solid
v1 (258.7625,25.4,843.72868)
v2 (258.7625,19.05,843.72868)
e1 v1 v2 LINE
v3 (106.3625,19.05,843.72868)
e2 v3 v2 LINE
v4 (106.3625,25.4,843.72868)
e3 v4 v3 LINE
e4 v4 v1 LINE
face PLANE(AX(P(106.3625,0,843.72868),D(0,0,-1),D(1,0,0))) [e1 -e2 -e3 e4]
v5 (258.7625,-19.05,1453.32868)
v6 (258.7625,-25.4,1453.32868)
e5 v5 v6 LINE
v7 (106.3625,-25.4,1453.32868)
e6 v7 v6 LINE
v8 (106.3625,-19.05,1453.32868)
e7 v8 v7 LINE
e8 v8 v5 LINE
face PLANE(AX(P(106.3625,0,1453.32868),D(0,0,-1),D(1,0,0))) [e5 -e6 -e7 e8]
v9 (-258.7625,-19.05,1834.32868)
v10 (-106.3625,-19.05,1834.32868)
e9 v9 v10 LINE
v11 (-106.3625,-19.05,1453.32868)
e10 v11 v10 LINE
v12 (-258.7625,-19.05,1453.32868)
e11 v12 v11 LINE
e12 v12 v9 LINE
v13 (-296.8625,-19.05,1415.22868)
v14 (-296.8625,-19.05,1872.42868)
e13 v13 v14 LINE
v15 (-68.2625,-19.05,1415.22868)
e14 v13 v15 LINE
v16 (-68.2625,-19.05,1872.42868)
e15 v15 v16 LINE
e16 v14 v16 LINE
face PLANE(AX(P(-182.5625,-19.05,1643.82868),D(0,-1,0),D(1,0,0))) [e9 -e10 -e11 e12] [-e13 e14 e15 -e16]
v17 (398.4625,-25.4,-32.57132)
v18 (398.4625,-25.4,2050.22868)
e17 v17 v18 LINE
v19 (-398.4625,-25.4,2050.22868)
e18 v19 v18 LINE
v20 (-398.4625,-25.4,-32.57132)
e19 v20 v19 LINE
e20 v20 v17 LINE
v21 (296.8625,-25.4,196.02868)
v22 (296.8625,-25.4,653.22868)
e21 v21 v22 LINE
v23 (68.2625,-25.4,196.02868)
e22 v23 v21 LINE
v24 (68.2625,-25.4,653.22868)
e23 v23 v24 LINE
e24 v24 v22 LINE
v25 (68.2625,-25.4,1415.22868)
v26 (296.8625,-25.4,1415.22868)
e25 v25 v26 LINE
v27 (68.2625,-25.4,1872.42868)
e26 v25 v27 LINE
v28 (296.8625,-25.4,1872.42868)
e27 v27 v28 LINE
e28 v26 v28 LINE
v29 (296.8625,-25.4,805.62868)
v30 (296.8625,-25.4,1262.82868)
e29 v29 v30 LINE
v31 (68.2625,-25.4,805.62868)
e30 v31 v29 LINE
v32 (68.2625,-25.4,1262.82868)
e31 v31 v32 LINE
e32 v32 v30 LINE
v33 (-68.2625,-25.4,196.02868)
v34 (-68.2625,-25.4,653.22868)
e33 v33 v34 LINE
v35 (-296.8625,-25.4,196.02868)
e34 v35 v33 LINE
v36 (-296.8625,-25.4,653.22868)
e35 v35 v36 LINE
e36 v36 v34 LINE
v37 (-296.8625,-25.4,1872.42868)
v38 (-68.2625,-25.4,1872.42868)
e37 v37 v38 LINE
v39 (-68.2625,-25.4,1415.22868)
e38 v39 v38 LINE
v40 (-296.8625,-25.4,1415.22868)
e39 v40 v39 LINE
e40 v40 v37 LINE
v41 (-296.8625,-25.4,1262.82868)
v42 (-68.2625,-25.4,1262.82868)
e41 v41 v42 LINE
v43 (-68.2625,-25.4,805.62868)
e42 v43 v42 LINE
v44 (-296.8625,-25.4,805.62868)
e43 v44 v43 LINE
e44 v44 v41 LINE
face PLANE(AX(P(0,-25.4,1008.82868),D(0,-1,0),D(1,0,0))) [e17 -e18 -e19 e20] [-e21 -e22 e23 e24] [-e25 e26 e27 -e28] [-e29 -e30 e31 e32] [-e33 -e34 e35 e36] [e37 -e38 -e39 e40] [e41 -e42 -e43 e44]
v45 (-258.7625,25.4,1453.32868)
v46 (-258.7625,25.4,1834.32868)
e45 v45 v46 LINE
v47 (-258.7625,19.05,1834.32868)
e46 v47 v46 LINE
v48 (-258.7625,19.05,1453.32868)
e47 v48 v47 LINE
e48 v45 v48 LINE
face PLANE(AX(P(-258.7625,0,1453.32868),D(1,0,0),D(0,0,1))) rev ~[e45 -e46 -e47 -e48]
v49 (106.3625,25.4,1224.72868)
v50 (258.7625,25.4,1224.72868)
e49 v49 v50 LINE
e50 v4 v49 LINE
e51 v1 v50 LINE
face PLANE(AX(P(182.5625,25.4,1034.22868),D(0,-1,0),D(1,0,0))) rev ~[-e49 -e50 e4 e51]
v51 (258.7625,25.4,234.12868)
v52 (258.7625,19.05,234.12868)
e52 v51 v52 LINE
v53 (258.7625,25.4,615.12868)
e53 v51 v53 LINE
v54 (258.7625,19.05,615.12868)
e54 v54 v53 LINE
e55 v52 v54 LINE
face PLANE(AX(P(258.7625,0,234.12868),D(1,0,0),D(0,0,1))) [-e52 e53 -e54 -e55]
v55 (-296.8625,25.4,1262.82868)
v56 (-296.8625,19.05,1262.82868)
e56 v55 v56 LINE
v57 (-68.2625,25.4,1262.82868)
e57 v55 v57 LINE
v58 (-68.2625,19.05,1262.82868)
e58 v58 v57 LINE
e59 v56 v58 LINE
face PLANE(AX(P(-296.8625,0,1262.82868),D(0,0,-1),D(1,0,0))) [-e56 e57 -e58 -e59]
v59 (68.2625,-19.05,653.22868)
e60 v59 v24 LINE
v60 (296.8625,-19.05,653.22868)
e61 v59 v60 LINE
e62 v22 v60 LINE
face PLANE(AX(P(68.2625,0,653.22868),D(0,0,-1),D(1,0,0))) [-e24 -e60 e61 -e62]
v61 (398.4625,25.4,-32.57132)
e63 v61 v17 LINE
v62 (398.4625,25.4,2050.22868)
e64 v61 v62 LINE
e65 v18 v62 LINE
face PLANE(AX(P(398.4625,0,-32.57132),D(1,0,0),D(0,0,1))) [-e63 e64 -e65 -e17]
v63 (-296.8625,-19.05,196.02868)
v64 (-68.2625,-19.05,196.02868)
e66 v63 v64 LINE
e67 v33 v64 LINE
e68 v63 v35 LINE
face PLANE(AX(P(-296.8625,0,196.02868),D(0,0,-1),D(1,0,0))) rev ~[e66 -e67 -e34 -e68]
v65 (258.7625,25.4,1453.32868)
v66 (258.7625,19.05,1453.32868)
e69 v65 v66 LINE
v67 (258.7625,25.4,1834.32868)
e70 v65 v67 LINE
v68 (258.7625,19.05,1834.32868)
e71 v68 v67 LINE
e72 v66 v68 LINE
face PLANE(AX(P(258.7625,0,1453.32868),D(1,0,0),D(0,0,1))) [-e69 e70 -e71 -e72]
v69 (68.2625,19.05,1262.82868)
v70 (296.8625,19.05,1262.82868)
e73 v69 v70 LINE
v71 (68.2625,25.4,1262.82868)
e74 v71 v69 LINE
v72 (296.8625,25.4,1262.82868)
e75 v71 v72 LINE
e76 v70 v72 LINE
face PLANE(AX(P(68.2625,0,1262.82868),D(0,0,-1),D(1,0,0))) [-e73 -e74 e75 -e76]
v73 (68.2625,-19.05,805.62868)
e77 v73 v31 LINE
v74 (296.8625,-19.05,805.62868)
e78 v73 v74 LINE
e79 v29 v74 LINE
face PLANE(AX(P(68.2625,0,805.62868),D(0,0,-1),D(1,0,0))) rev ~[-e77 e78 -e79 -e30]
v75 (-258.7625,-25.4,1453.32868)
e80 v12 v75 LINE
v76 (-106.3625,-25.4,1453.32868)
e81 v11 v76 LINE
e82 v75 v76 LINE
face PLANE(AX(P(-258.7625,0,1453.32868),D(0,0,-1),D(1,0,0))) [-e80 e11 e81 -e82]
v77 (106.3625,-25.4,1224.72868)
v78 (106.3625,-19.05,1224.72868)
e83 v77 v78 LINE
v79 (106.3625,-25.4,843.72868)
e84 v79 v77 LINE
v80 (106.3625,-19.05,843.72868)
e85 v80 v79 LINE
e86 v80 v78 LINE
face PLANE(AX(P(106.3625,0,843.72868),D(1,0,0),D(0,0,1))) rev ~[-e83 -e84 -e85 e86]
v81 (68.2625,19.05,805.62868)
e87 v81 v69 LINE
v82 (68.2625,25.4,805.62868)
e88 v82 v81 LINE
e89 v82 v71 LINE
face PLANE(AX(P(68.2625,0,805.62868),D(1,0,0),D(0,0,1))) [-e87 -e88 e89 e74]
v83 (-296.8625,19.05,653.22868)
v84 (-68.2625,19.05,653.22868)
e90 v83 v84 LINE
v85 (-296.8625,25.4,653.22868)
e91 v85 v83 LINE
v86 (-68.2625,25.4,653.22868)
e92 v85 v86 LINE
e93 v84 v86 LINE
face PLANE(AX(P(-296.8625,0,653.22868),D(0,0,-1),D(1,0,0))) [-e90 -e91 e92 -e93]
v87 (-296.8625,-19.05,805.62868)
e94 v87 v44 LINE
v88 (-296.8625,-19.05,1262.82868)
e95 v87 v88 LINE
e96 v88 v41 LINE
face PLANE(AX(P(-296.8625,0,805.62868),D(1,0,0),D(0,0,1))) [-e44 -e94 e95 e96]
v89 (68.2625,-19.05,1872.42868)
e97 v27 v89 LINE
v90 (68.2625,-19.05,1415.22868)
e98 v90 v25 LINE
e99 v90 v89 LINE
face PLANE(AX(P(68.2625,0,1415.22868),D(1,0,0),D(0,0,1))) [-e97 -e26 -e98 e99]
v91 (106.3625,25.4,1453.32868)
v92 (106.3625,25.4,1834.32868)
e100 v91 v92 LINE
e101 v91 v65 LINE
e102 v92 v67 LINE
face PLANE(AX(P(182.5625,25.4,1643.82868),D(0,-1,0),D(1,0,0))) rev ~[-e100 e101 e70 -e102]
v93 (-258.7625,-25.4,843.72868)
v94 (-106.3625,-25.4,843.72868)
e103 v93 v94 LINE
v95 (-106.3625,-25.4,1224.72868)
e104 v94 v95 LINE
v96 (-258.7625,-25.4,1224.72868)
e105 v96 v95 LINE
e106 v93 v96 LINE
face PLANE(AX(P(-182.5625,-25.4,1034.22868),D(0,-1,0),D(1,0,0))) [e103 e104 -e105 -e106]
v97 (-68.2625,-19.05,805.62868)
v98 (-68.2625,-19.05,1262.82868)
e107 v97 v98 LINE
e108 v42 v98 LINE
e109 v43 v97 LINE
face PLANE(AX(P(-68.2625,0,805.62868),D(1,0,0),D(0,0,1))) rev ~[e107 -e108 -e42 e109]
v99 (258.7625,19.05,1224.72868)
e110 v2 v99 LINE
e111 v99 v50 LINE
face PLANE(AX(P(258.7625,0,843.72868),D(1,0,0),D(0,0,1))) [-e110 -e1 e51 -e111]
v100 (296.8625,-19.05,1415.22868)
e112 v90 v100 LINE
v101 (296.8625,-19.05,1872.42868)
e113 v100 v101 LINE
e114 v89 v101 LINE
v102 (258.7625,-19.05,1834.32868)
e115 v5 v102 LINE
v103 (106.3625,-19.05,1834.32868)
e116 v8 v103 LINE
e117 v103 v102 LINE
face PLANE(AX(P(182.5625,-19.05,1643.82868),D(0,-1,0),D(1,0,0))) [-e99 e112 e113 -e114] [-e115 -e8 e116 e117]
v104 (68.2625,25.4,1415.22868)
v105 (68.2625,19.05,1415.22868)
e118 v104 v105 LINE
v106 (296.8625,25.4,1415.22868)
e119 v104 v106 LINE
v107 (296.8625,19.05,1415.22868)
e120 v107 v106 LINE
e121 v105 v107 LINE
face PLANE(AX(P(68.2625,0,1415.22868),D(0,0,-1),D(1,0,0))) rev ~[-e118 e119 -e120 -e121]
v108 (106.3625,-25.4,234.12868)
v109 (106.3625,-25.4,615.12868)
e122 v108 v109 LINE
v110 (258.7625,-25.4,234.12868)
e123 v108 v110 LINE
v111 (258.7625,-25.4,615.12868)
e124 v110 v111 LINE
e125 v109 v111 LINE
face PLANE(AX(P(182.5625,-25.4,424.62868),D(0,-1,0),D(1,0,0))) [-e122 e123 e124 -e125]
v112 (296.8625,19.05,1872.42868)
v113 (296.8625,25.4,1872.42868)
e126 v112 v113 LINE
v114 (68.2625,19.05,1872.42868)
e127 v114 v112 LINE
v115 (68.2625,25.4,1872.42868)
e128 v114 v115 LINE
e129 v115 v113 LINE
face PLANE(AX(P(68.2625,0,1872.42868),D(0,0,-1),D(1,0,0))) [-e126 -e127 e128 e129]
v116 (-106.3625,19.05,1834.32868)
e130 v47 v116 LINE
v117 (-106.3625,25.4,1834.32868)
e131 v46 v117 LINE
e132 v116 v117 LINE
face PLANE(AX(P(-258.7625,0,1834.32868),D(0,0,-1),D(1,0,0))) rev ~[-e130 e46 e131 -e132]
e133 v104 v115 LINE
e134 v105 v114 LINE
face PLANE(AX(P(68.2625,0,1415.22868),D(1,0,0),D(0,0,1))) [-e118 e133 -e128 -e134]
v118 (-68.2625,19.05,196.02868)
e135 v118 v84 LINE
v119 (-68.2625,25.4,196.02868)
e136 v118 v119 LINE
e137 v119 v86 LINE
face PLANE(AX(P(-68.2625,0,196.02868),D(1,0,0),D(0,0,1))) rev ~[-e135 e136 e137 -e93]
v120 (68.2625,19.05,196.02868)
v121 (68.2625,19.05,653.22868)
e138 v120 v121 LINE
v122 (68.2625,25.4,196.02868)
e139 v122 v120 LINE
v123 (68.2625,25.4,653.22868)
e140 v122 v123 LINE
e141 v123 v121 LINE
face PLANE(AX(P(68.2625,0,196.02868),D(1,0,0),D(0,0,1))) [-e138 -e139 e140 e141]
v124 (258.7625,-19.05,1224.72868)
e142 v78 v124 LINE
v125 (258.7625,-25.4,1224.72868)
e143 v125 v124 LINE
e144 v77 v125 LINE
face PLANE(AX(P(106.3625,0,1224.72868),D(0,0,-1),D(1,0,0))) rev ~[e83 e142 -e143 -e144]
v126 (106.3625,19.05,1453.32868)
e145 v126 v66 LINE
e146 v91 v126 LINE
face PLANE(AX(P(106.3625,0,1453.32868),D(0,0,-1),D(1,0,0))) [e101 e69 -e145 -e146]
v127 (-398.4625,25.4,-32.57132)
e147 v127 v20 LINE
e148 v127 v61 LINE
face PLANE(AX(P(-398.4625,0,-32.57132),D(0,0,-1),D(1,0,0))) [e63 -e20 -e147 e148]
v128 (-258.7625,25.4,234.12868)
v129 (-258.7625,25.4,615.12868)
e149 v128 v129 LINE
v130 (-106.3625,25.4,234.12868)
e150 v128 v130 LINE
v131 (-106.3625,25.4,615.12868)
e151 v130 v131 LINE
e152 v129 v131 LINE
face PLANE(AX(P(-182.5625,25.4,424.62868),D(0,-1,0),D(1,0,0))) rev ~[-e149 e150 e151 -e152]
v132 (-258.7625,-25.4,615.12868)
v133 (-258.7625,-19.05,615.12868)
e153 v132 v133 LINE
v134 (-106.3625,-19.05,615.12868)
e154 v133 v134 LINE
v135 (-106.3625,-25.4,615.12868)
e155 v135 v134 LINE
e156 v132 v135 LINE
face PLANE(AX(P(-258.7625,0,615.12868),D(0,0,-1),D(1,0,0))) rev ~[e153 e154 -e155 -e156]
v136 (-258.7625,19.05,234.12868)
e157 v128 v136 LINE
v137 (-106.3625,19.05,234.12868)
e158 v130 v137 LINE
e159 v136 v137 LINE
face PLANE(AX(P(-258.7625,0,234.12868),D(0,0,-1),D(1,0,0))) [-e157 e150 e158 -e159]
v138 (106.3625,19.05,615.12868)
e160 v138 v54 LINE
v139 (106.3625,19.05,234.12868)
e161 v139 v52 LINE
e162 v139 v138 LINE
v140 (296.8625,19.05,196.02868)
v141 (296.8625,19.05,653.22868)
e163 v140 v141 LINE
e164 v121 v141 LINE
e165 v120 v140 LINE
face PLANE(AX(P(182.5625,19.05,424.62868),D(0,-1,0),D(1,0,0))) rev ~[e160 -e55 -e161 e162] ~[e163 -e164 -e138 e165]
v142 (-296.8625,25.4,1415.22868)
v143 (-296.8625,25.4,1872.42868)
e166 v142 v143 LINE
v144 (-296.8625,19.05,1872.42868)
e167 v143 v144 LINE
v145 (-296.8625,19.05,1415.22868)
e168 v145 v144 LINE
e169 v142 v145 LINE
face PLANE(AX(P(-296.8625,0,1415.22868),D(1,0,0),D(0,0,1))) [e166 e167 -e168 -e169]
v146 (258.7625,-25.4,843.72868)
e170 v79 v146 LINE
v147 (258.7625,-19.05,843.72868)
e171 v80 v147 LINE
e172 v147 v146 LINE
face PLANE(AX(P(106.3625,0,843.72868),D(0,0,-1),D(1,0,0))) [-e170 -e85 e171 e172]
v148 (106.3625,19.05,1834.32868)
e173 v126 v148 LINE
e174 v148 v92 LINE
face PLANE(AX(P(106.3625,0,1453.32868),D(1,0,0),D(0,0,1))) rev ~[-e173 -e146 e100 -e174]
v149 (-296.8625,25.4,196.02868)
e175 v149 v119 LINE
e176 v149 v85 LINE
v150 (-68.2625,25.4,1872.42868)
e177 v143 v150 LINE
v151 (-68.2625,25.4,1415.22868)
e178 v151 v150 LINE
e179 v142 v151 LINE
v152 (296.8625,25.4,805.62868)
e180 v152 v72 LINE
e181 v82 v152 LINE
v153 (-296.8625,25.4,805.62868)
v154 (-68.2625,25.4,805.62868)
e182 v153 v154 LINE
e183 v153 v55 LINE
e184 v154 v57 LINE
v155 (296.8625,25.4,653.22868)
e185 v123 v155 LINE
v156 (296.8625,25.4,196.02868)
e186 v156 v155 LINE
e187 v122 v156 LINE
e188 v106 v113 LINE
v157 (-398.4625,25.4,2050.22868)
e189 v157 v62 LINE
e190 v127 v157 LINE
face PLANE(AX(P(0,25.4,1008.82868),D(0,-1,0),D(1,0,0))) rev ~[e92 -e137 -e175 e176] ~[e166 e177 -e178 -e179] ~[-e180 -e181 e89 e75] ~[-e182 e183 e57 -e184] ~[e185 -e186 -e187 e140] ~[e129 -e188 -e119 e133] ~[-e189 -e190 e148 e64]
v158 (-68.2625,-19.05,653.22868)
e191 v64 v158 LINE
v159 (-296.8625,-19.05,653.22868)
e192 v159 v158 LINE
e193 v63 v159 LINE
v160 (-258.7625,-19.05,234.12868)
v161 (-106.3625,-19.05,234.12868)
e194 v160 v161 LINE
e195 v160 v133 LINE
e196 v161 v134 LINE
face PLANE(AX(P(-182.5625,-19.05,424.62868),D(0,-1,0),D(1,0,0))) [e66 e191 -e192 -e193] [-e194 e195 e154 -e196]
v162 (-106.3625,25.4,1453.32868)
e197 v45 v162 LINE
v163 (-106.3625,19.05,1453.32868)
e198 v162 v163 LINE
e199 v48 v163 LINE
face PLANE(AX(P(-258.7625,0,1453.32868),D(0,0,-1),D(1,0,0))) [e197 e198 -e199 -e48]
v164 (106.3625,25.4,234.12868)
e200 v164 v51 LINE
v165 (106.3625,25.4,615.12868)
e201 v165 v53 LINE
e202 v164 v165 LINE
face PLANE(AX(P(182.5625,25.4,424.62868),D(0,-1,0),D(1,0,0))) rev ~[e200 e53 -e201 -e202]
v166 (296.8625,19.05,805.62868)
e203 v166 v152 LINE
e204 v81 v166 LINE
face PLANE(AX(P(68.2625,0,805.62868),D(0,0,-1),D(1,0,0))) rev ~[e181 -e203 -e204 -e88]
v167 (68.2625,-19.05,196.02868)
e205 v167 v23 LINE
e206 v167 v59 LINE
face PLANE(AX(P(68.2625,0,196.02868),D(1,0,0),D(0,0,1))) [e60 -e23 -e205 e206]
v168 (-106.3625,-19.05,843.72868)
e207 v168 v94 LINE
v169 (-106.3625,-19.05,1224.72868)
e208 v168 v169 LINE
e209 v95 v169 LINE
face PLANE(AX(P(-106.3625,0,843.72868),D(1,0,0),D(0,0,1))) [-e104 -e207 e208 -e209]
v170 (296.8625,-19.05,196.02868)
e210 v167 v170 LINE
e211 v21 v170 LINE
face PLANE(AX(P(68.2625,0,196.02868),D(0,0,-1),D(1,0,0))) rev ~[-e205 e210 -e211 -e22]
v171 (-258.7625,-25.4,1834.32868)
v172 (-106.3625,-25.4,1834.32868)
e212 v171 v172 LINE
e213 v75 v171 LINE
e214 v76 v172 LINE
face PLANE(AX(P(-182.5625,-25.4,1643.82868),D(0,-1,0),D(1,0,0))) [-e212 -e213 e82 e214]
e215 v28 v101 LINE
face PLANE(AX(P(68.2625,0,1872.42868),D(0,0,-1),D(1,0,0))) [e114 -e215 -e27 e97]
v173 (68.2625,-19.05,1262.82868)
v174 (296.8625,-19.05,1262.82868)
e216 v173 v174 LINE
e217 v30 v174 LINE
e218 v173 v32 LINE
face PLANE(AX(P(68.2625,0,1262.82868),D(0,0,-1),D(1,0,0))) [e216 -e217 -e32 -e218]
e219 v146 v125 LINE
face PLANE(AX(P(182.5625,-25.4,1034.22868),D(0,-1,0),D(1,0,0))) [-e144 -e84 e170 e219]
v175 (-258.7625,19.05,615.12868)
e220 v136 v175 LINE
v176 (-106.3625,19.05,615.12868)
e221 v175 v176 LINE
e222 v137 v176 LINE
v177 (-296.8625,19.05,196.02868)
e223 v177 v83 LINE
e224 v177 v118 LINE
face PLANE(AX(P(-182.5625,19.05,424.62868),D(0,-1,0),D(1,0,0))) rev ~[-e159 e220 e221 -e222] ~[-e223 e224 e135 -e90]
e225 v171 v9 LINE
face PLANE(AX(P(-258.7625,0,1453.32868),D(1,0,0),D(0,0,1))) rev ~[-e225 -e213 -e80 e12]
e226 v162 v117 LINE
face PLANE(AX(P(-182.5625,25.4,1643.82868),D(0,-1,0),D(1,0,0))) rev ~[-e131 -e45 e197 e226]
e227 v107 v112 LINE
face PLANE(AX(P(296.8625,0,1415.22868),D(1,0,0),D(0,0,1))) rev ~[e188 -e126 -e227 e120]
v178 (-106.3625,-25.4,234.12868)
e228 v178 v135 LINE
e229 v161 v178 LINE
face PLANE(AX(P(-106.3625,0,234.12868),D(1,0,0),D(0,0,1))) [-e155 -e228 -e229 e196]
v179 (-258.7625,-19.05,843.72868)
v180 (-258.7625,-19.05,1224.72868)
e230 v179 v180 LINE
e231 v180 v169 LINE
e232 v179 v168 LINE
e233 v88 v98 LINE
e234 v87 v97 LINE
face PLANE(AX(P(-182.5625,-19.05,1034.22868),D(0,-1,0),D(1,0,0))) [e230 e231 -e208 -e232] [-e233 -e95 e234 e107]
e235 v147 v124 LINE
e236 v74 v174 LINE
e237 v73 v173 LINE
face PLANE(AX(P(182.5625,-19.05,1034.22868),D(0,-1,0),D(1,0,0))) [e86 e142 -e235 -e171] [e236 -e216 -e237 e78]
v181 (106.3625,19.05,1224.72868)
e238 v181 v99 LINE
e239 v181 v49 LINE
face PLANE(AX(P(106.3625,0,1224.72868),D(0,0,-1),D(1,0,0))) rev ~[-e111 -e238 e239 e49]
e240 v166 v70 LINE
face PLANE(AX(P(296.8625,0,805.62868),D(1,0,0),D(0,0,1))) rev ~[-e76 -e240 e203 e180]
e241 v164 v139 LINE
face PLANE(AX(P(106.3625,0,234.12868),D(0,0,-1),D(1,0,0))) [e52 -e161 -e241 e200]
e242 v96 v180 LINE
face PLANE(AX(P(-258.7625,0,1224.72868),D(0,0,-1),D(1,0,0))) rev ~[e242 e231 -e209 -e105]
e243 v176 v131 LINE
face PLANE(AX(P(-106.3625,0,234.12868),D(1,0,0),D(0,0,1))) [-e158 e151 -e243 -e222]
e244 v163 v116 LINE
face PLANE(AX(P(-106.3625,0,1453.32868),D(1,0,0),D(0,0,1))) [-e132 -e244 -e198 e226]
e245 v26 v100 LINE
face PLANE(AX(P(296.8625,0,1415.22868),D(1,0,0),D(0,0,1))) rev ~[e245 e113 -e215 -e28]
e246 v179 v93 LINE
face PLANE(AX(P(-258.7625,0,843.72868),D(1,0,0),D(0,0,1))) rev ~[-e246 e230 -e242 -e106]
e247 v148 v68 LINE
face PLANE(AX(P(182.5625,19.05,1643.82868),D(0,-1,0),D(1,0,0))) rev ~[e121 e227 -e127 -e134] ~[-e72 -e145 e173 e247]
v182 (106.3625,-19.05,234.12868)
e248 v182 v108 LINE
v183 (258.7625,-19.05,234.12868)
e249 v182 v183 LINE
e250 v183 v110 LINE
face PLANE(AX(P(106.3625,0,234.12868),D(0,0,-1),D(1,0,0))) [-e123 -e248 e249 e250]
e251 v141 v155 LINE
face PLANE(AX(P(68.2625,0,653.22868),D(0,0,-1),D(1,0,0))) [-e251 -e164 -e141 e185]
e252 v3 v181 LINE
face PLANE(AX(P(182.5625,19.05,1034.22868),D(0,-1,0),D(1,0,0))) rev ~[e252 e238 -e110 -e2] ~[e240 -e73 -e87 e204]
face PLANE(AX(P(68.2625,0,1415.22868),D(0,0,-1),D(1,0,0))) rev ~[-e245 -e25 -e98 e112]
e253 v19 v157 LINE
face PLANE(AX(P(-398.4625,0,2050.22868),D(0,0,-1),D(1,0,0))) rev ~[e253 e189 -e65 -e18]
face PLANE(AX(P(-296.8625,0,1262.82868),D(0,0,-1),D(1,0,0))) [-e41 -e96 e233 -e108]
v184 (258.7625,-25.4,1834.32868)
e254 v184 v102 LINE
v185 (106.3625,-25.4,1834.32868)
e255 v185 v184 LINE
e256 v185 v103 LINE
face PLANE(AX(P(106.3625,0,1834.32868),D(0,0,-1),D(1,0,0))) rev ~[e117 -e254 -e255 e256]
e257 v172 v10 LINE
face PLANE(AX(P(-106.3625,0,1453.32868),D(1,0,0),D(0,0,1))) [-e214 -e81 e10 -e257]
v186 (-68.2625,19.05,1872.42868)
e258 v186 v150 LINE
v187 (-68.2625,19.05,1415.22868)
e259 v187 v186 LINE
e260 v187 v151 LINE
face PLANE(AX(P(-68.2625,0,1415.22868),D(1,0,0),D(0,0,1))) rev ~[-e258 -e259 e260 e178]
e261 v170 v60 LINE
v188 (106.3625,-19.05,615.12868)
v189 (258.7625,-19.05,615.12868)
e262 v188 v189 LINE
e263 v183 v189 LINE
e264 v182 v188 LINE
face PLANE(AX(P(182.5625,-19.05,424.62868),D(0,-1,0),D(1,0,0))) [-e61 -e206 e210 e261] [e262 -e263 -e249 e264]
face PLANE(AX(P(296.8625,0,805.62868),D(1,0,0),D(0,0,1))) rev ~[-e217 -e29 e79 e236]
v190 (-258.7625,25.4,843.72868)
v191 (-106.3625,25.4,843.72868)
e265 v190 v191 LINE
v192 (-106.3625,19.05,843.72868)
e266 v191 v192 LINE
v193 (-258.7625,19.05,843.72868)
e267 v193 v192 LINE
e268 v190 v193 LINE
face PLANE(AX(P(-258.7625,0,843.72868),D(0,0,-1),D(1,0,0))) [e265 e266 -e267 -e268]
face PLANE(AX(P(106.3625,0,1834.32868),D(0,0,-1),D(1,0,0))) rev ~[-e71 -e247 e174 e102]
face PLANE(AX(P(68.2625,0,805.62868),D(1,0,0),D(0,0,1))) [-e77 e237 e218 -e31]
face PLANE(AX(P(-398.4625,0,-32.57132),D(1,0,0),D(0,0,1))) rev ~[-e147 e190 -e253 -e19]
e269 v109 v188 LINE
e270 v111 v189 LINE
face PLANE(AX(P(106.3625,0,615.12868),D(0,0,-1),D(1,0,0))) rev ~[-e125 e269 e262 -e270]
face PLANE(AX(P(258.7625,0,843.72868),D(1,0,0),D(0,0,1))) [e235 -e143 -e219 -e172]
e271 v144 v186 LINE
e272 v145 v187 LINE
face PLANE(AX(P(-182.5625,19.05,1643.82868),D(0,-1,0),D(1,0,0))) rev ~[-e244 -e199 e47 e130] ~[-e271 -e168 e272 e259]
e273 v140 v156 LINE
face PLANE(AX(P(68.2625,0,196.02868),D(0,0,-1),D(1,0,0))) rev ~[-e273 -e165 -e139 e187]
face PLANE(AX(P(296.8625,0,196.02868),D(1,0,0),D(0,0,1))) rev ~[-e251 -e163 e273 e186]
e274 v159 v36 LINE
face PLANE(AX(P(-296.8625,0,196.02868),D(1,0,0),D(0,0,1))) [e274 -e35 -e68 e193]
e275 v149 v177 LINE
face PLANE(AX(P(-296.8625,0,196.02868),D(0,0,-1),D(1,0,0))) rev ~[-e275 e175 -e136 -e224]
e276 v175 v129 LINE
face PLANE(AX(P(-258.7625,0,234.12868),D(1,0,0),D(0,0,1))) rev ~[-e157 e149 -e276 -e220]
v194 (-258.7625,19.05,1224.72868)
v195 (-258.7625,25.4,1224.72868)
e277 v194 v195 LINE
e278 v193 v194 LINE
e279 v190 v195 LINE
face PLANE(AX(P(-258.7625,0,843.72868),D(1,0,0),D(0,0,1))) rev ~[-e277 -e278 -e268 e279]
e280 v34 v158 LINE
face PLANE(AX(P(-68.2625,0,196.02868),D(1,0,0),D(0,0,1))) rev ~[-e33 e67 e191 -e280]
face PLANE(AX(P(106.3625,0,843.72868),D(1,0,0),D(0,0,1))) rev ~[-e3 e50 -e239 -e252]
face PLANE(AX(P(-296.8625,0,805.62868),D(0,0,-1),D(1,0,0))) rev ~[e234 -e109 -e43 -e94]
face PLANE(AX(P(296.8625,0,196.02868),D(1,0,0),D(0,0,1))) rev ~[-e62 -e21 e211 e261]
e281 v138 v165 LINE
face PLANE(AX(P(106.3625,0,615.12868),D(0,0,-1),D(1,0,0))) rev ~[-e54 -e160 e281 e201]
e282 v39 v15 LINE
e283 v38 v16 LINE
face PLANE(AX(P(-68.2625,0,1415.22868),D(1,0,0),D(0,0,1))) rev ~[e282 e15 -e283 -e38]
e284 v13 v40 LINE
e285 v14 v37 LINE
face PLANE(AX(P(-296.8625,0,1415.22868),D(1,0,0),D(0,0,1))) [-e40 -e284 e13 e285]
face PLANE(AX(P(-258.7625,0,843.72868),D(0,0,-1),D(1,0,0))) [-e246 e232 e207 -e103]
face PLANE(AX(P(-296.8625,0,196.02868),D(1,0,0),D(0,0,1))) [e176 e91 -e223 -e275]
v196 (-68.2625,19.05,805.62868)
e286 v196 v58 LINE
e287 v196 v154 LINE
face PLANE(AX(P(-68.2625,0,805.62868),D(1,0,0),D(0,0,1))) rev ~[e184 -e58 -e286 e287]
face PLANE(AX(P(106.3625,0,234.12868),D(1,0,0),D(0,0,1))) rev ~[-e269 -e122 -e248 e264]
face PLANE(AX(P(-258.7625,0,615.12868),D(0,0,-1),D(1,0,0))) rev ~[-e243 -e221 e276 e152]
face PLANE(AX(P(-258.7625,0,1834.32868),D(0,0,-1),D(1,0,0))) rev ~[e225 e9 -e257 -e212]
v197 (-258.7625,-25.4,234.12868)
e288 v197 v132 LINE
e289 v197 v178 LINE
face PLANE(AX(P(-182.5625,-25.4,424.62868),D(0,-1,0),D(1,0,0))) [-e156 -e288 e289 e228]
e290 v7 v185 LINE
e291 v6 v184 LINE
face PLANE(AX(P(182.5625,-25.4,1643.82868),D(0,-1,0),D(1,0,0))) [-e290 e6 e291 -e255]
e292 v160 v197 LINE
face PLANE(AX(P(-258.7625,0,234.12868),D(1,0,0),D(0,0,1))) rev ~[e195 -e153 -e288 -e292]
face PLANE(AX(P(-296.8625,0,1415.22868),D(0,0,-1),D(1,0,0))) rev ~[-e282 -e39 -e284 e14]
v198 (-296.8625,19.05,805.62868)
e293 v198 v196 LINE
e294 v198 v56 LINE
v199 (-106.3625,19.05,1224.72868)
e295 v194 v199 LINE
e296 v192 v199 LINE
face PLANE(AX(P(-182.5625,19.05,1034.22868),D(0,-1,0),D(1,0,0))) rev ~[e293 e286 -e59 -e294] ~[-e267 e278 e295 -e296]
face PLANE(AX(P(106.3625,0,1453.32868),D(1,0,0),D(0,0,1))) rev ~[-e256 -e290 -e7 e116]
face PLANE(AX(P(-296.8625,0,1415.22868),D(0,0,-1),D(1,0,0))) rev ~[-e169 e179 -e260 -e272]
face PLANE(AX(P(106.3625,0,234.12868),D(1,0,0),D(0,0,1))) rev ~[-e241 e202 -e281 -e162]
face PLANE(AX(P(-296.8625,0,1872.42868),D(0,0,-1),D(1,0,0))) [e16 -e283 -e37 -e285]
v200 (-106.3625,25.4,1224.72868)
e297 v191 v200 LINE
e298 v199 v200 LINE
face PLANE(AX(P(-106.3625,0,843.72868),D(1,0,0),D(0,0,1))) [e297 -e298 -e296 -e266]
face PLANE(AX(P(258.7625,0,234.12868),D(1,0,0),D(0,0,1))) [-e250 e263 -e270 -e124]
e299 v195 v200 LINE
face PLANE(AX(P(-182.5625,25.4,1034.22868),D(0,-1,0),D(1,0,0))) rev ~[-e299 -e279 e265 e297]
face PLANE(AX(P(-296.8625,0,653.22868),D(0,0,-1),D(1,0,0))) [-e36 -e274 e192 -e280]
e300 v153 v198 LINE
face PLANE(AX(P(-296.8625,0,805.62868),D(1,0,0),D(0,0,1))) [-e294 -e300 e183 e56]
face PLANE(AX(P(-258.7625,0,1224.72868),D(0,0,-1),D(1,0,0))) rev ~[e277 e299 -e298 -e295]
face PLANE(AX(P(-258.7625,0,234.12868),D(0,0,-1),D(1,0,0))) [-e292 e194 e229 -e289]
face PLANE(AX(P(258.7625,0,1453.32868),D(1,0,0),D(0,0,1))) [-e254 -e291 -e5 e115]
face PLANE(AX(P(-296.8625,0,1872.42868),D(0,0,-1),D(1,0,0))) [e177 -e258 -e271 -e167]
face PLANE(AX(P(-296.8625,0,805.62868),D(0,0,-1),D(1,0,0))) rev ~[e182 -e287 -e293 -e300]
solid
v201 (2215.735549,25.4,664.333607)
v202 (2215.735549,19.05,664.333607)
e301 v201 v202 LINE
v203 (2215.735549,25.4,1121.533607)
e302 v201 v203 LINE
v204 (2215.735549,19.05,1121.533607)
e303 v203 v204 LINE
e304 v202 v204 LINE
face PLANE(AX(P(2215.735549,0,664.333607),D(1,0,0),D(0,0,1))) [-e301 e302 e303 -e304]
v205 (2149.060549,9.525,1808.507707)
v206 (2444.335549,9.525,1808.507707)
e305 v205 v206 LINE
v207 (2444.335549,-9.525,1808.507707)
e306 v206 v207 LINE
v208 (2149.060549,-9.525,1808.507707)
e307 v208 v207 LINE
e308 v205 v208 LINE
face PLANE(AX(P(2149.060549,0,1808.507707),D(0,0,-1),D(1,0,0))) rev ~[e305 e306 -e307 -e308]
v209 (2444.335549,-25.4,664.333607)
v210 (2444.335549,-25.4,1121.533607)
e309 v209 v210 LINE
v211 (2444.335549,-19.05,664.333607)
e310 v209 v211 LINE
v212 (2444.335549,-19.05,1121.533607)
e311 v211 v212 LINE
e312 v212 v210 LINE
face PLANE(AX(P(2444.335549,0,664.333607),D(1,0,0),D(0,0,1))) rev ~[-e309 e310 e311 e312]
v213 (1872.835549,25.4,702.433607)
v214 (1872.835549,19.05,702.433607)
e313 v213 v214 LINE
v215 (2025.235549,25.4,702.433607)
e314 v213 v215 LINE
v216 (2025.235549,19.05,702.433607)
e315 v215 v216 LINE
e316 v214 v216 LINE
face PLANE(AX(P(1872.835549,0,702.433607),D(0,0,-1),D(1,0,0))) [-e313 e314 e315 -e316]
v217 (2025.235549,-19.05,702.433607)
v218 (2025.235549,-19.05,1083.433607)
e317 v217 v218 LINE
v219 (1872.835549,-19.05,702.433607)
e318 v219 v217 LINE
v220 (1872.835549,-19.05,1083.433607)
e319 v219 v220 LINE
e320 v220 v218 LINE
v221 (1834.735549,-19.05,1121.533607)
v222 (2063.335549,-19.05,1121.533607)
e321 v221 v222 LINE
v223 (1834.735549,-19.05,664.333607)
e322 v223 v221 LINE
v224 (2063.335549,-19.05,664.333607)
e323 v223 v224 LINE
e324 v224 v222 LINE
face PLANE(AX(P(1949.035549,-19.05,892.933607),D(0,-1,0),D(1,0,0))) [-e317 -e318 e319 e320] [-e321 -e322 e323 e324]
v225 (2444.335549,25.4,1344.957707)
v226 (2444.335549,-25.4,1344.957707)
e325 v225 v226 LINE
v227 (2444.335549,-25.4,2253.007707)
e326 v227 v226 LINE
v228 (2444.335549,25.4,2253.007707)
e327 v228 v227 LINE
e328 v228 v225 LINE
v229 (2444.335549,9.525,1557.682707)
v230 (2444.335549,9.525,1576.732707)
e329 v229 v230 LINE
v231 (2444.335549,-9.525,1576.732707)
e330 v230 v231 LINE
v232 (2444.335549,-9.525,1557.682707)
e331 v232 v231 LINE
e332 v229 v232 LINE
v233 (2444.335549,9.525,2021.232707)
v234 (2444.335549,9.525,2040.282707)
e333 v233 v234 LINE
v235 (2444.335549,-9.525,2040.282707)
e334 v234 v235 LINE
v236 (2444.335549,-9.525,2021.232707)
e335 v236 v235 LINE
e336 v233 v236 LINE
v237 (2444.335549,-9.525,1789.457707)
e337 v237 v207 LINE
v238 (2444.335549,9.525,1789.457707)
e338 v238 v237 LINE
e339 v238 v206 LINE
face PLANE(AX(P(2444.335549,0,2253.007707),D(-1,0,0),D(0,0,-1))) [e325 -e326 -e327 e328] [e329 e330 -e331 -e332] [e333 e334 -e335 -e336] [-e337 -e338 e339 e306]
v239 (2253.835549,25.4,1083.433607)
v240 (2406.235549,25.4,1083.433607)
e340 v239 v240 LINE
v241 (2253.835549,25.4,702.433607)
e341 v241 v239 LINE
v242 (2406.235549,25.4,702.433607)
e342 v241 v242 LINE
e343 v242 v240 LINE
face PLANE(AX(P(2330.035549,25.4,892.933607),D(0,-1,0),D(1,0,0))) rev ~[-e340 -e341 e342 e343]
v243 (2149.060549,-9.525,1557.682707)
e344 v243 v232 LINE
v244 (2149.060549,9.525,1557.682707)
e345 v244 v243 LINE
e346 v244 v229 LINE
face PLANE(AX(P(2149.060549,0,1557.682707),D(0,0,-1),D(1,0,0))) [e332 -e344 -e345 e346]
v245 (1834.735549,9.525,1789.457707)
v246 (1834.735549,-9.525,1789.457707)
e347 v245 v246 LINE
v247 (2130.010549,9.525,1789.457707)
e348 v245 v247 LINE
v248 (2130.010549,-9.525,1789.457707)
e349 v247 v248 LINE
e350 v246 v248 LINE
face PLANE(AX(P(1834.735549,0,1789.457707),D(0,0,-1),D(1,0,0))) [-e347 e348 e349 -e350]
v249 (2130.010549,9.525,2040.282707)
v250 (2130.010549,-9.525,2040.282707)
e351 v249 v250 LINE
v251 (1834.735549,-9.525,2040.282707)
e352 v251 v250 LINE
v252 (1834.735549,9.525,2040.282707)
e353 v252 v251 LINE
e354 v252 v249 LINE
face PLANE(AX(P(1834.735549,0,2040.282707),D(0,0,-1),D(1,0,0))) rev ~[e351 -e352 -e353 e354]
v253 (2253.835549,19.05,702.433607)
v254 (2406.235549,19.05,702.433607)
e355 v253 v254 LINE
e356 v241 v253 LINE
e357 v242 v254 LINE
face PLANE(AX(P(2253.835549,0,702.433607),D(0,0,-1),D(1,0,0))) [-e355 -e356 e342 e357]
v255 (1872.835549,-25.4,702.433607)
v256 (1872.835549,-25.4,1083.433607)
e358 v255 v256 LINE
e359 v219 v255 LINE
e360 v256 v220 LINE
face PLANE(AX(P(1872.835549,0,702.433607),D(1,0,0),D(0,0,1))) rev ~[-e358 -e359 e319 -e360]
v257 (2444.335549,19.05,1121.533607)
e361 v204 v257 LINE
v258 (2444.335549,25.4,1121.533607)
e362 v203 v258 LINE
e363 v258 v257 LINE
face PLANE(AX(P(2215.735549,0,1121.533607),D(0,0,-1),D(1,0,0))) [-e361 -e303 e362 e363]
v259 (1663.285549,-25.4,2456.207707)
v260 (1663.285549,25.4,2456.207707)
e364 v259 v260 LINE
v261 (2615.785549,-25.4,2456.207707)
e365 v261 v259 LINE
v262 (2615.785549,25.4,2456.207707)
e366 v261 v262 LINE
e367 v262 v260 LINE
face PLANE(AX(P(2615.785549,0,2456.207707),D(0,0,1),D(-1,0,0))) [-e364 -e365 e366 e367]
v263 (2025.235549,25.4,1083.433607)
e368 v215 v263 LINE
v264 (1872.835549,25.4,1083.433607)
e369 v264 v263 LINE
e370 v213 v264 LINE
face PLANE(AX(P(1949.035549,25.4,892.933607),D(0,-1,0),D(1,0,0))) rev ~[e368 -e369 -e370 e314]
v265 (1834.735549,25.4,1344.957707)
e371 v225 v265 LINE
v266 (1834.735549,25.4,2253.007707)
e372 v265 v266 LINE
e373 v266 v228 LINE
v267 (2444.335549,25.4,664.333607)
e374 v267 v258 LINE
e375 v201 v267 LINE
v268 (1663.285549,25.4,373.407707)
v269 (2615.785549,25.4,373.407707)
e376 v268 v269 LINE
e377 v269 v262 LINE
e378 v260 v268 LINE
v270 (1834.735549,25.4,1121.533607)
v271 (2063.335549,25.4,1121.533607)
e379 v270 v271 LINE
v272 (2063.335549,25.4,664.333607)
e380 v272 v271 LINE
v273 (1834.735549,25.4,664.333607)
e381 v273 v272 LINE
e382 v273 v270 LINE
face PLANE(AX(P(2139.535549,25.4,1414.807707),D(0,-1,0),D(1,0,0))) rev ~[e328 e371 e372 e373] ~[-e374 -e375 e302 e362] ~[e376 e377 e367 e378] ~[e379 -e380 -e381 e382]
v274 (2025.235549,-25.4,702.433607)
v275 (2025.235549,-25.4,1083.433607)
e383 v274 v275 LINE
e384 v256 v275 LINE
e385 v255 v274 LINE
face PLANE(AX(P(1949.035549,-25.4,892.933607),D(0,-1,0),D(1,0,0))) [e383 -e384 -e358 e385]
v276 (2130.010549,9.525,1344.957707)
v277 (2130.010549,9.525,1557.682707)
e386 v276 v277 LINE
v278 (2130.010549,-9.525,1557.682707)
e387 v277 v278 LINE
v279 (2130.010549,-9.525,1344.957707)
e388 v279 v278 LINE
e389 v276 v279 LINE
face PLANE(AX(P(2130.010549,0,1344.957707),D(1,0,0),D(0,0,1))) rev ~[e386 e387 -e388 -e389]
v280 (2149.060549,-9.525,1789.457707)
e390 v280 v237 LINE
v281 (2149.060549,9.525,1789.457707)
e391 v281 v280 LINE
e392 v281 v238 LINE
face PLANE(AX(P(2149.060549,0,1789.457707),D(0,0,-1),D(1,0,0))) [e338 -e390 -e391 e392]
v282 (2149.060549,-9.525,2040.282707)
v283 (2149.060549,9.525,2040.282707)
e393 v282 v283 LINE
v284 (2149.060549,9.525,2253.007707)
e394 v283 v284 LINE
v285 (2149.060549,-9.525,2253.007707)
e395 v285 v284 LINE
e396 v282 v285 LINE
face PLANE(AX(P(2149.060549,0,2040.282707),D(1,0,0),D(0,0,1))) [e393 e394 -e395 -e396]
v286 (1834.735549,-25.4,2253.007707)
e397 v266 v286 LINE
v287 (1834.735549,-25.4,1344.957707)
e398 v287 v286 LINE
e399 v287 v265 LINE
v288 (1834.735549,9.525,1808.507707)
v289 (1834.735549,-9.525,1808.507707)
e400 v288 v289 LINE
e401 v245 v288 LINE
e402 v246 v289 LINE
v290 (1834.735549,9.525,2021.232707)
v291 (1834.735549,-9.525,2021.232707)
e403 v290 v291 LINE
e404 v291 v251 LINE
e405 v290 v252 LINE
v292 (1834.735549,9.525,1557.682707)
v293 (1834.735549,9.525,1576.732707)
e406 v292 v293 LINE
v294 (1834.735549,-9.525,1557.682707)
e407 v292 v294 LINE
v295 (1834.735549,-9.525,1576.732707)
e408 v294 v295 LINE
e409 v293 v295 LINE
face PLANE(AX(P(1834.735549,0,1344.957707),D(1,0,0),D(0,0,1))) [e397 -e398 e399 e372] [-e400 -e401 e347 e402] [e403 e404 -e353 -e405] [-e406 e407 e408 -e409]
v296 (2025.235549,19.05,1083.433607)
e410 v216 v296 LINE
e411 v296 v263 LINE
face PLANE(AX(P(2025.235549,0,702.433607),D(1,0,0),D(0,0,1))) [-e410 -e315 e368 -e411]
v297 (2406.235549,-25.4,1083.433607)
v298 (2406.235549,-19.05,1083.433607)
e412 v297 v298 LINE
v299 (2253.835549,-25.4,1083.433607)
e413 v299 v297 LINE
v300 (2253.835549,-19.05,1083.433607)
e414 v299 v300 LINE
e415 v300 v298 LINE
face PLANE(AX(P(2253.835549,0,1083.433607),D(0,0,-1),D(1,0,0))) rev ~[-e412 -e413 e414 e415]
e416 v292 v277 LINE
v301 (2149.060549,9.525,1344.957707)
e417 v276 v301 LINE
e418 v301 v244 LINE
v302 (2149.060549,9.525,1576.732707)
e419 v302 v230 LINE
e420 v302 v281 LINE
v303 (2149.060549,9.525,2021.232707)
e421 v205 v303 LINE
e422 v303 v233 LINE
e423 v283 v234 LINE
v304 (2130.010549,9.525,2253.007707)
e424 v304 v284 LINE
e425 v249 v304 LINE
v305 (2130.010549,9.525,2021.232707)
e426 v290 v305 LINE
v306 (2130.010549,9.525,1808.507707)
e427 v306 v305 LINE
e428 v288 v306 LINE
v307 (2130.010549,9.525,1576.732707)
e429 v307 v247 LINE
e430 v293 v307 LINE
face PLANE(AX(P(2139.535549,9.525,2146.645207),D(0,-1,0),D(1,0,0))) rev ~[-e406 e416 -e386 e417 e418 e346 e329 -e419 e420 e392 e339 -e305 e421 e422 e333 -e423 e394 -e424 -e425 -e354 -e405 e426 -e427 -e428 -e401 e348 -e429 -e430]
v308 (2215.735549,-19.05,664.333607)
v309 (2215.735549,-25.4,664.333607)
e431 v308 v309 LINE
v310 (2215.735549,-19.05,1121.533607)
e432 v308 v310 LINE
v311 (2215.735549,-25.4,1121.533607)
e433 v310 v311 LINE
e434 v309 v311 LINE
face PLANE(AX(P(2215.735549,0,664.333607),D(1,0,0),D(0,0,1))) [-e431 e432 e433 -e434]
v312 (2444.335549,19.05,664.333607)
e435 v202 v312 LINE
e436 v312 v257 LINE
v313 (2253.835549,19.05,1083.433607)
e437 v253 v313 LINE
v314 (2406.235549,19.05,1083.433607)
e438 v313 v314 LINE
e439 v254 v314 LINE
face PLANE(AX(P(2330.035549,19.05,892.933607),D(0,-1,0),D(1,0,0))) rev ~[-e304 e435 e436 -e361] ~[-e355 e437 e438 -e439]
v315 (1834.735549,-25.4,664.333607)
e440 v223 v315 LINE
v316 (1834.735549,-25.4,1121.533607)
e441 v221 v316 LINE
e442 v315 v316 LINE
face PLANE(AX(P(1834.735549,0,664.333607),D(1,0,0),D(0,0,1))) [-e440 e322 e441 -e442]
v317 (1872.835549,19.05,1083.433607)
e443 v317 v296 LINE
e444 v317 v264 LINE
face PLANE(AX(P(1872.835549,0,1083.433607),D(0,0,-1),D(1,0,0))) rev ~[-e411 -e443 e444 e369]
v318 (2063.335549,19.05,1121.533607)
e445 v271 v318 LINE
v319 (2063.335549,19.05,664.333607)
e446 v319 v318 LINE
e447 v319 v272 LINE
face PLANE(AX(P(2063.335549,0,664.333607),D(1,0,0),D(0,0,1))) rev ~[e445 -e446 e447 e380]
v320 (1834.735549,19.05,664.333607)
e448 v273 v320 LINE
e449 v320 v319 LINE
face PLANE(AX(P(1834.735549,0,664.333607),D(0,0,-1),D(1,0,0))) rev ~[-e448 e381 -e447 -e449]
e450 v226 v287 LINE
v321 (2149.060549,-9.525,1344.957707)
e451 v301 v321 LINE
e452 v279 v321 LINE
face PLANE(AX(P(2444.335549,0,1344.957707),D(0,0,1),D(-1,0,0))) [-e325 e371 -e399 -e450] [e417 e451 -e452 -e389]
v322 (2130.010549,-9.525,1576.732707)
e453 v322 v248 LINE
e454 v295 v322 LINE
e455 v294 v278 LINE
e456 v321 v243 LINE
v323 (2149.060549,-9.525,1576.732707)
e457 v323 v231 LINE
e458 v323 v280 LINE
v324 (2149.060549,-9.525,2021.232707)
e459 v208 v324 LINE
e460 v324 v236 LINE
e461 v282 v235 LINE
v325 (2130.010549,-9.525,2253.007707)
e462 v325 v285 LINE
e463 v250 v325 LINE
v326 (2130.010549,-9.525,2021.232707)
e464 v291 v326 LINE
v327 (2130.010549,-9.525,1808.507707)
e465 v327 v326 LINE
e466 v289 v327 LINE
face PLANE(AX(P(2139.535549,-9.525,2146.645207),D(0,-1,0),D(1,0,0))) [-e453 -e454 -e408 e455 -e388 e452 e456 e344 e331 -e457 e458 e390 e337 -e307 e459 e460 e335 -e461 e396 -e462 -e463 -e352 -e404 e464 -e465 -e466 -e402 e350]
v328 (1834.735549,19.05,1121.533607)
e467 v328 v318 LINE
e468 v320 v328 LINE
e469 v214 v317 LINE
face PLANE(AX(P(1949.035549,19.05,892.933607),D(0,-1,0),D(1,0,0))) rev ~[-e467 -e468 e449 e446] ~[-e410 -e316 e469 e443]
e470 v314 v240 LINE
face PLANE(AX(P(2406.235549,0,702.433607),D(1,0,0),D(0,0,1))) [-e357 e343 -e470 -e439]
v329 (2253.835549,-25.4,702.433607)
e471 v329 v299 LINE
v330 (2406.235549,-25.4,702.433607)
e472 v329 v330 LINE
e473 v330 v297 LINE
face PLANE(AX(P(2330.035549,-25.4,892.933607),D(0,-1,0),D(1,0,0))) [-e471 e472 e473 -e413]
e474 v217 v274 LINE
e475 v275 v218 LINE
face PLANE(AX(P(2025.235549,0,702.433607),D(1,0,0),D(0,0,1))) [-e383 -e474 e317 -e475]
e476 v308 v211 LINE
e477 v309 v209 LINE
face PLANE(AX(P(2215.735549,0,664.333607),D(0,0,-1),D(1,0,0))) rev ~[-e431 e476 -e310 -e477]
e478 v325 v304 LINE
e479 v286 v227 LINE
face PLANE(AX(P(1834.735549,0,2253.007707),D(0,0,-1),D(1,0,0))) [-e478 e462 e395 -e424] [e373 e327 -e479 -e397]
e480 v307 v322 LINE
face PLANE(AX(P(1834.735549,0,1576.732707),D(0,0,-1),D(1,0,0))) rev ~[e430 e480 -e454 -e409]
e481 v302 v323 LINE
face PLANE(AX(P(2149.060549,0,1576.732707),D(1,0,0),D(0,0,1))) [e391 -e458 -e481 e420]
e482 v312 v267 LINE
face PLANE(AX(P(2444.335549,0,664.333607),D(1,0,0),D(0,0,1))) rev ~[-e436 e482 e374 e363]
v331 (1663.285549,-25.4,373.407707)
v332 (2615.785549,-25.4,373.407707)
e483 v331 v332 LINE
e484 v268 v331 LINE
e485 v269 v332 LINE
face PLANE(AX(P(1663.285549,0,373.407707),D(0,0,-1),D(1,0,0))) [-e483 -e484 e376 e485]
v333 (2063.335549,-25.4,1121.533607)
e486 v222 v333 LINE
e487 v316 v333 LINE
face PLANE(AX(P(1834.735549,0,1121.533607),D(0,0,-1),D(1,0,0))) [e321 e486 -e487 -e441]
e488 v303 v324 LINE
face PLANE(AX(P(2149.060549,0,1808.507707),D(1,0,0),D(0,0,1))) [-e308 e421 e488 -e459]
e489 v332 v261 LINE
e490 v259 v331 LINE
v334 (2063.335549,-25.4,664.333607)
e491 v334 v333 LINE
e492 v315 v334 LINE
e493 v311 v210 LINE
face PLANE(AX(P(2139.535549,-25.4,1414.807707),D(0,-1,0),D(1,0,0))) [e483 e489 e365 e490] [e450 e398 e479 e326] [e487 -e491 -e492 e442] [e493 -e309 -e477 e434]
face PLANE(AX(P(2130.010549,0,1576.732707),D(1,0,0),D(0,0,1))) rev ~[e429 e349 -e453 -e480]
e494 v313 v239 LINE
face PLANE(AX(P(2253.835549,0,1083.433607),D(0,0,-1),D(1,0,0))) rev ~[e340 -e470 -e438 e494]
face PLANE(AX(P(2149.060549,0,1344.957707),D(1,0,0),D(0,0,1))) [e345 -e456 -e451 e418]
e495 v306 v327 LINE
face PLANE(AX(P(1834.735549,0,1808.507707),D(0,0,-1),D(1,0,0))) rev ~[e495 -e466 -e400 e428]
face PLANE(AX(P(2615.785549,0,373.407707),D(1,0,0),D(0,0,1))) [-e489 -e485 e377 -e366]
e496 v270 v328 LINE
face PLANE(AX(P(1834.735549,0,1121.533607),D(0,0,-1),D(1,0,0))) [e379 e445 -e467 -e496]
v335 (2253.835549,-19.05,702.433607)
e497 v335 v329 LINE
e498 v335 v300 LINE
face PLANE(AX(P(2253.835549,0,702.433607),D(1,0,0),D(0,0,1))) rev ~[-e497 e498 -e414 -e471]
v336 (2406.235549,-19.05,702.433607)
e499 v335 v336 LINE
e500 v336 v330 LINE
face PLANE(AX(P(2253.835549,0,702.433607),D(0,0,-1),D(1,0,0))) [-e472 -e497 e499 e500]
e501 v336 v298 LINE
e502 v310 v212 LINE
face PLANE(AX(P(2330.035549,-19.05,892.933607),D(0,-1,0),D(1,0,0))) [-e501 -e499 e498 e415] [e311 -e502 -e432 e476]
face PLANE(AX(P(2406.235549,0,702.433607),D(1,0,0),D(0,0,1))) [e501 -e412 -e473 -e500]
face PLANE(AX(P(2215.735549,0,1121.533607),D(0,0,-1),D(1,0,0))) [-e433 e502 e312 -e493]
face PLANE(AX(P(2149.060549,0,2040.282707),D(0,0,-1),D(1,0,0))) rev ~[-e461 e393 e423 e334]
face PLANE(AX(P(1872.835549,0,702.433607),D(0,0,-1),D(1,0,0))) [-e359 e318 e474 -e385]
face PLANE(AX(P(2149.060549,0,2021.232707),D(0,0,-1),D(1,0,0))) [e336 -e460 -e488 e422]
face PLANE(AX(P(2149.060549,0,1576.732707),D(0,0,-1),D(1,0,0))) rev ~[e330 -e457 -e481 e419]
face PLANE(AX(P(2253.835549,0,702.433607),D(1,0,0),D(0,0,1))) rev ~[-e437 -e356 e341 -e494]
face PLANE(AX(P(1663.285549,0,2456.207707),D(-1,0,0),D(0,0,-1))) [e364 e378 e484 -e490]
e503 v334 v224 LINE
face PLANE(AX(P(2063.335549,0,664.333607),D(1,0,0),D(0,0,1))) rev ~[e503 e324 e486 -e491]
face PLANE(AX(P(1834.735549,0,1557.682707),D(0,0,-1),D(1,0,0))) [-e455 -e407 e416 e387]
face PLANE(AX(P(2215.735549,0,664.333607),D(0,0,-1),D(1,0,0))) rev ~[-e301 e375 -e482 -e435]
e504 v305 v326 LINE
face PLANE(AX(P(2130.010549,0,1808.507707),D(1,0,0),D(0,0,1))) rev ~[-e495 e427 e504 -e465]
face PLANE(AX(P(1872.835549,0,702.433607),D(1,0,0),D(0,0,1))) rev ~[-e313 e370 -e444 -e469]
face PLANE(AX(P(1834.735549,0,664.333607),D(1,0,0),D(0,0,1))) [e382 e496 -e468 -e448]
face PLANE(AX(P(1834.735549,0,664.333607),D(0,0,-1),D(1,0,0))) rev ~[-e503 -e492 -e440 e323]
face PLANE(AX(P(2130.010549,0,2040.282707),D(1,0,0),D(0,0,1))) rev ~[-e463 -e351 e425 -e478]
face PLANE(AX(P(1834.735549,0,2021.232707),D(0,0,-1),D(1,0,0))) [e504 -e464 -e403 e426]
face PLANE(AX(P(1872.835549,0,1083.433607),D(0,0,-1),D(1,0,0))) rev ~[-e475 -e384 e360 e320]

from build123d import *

# Parameters (mm, degrees)
F0_W     = 796.925
F0_H     = 2082.8
F0_W_2   = 228.6
F0_H_2   = 457.2
F1_DEPTH = 25.4
F0_W_3   = 152.4
F0_H_3   = 381
F2_DEPTH = 19.05
F3_DEPTH = 25.4
F0_W_4   = 19.05
F0_H_4   = 212.725
F0_W_5   = 295.275
F0_H_5   = 19.05
F4_DEPTH = 9.525
F5_DEPTH = 19.05


with BuildPart() as f1:
    # F0 (on Front) → F1 (new body, symmetric)
    with BuildSketch(Plane.XZ):
        with Locations((0, 1008.8286796093)):
            Rectangle(F0_W, F0_H)
        with Locations((-182.5625, 424.6286796093)):
            Rectangle(F0_W_2, F0_H_2, mode=Mode.SUBTRACT)
        with Locations((182.5625, 424.6286796093)):
            Rectangle(F0_W_2, F0_H_2, mode=Mode.SUBTRACT)
        with Locations((-182.5625, 1034.2286796093)):
            Rectangle(F0_W_2, F0_H_2, mode=Mode.SUBTRACT)
        with Locations((182.5625, 1034.2286796093)):
            Rectangle(F0_W_2, F0_H_2, mode=Mode.SUBTRACT)
        with Locations((-182.5625, 1643.8286796093)):
            Rectangle(F0_W_2, F0_H_2, mode=Mode.SUBTRACT)
        with Locations((182.5625, 1643.8286796093)):
            Rectangle(F0_W_2, F0_H_2, mode=Mode.SUBTRACT)
    extrude(amount=F1_DEPTH, both=True)



with BuildPart() as f1b:
    # F0 (on Front) → F1, piece 2 (new body, symmetric)
    with BuildSketch(Plane.XZ):
        with Locations((-182.5625, 1643.8286796093)):
            Rectangle(F0_W_3, F0_H_3)
    extrude(amount=F1_DEPTH, both=True)


with BuildPart() as f1c:
    # F0 (on Front) → F1, piece 3 (new body, symmetric)
    with BuildSketch(Plane.XZ):
        with Locations((182.5625, 1643.8286796093)):
            Rectangle(F0_W_3, F0_H_3)
    extrude(amount=F1_DEPTH, both=True)


with BuildPart() as f1d:
    # F0 (on Front) → F1, piece 4 (new body, symmetric)
    with BuildSketch(Plane.XZ):
        with Locations((182.5625, 1034.2286796093)):
            Rectangle(F0_W_3, F0_H_3)
    extrude(amount=F1_DEPTH, both=True)


with BuildPart() as f1e:
    # F0 (on Front) → F1, piece 5 (new body, symmetric)
    with BuildSketch(Plane.XZ):
        with Locations((-182.5625, 1034.2286796093)):
            Rectangle(F0_W_3, F0_H_3)
    extrude(amount=F1_DEPTH, both=True)


with BuildPart() as f1f:
    # F0 (on Front) → F1, piece 6 (new body, symmetric)
    with BuildSketch(Plane.XZ):
        with Locations((-182.5625, 424.6286796093)):
            Rectangle(F0_W_3, F0_H_3)
    extrude(amount=F1_DEPTH, both=True)


with BuildPart() as f1g:
    # F0 (on Front) → F1, piece 7 (new body, symmetric)
    with BuildSketch(Plane.XZ):
        with Locations((182.5625, 424.6286796093)):
            Rectangle(F0_W_3, F0_H_3)
    extrude(amount=F1_DEPTH, both=True)


with BuildPart() as f1_1:
    add(f1.part)

    add(f1b.part)  # F2 merges F1b

    add(f1c.part)  # F2 merges F1c

    add(f1d.part)  # F2 merges F1d

    add(f1e.part)  # F2 merges F1e

    add(f1f.part)  # F2 merges F1f

    add(f1g.part)  # F2 merges F1g
    # F0 (on Front) → F2 (join, symmetric)
    with BuildSketch(Plane.XZ):
        with Locations((-182.5625, 1643.8286796093)):
            Rectangle(F0_W_2, F0_H_2)
        with Locations((-182.5625, 1643.8286796093)):
            Rectangle(F0_W_3, F0_H_3, mode=Mode.SUBTRACT)
        with Locations((182.5625, 1643.8286796093)):
            Rectangle(F0_W_2, F0_H_2)
        with Locations((182.5625, 1643.8286796093)):
            Rectangle(F0_W_3, F0_H_3, mode=Mode.SUBTRACT)
        with Locations((182.5625, 1034.2286796093)):
            Rectangle(F0_W_2, F0_H_2)
        with Locations((182.5625, 1034.2286796093)):
            Rectangle(F0_W_3, F0_H_3, mode=Mode.SUBTRACT)
        with Locations((-182.5625, 1034.2286796093)):
            Rectangle(F0_W_2, F0_H_2)
        with Locations((-182.5625, 1034.2286796093)):
            Rectangle(F0_W_3, F0_H_3, mode=Mode.SUBTRACT)
        with Locations((-182.5625, 424.6286796093)):
            Rectangle(F0_W_2, F0_H_2)
        with Locations((-182.5625, 424.6286796093)):
            Rectangle(F0_W_3, F0_H_3, mode=Mode.SUBTRACT)
        with Locations((182.5625, 424.6286796093)):
            Rectangle(F0_W_2, F0_H_2)
        with Locations((182.5625, 424.6286796093)):
            Rectangle(F0_W_3, F0_H_3, mode=Mode.SUBTRACT)
    extrude(amount=F2_DEPTH, both=True)


with BuildPart() as f3:
    # F0 (on Front) → F3 (new body, symmetric)
    with BuildSketch(Plane.XZ):
        Polygon((2139.5355490623, 2456.2077066942), (1663.2855490623, 2456.2077066942), (1663.2855490623, 373.4077066942), (2139.5355490623, 373.4077066942), (2615.7855490623, 373.4077066942), (2615.7855490623, 2456.2077066942), align=None)
        with Locations((1949.0355490623, 892.9336071014)):
            Rectangle(F0_W_2, F0_H_2, mode=Mode.SUBTRACT)
        with Locations((2330.0355490623, 892.9336071014)):
            Rectangle(F0_W_2, F0_H_2, mode=Mode.SUBTRACT)
        Polygon((1834.7355490623, 2040.2827066942), (1834.7355490623, 2253.0077066942), (2130.0105490623, 2253.0077066942), (2149.0605490623, 2253.0077066942), (2444.3355490623, 2253.0077066942), (2444.3355490623, 2040.2827066942), (2444.3355490623, 2021.2327066942), (2444.3355490623, 1808.5077066942), (2444.3355490623, 1789.4577066942), (2444.3355490623, 1576.7327066942), (2444.3355490623, 1557.6827066942), (2444.3355490623, 1344.9577066942), (2149.0605490623, 1344.9577066942), (2130.0105490623, 1344.9577066942), (1834.7355490623, 1344.9577066942), (1834.7355490623, 1557.6827066942), (1834.7355490623, 1576.7327066942), (1834.7355490623, 1789.4577066942), (1834.7355490623, 1808.5077066942), (1834.7355490623, 2021.2327066942), align=None, mode=Mode.SUBTRACT)
    extrude(amount=F3_DEPTH, both=True)

    # F0 (on Front) → F4 (join, symmetric)
    with BuildSketch(Plane.XZ):
        with Locations((2139.5355490623, 2146.6452066942)):
            Rectangle(F0_W_4, F0_H_4)
        with Locations((1982.3730490623, 2030.7577066942)):
            Rectangle(F0_W_5, F0_H_5)
        with Locations((2296.6980490623, 2030.7577066942)):
            Rectangle(F0_W_5, F0_H_5)
        with Locations((2139.5355490623, 1914.8702066942)):
            Rectangle(F0_W_4, F0_H_4)
        with Locations((1982.3730490623, 1798.9827066942)):
            Rectangle(F0_W_5, F0_H_5)
        with Locations((2296.6980490623, 1798.9827066942)):
            Rectangle(F0_W_5, F0_H_5)
        with Locations((2139.5355490623, 1683.0952066942)):
            Rectangle(F0_W_4, F0_H_4)
        with Locations((2139.5355490623, 1451.3202066942)):
            Rectangle(F0_W_4, F0_H_4)
        with Locations((2296.6980490623, 1567.2077066942)):
            Rectangle(F0_W_5, F0_H_5)
        with Locations((1982.3730490623, 1567.2077066942)):
            Rectangle(F0_W_5, F0_H_5)
        with Locations((2139.5355490623, 1567.2077066942)):
            Rectangle(F0_W_4, F0_H_5)
        with Locations((2139.5355490623, 1798.9827066942)):
            Rectangle(F0_W_4, F0_H_5)
        with Locations((2139.5355490623, 2030.7577066942)):
            Rectangle(F0_W_4, F0_H_5)
    extrude(amount=F4_DEPTH, both=True)



with BuildPart() as f3b:
    # F0 (on Front) → F3, piece 2 (new body, symmetric)
    with BuildSketch(Plane.XZ):
        with Locations((1949.0355490623, 892.9336071014)):
            Rectangle(F0_W_3, F0_H_3)
    extrude(amount=F3_DEPTH, both=True)


with BuildPart() as f3c:
    # F0 (on Front) → F3, piece 3 (new body, symmetric)
    with BuildSketch(Plane.XZ):
        with Locations((2330.0355490623, 892.9336071014)):
            Rectangle(F0_W_3, F0_H_3)
    extrude(amount=F3_DEPTH, both=True)


with BuildPart() as f3_1:
    add(f3.part)

    add(f3b.part)  # F5 merges F3b

    add(f3c.part)  # F5 merges F3c
    # F0 (on Front) → F5 (join, symmetric)
    with BuildSketch(Plane.XZ):
        with Locations((1949.0355490623, 892.9336071014)):
            Rectangle(F0_W_2, F0_H_2)
        with Locations((1949.0355490623, 892.9336071014)):
            Rectangle(F0_W_3, F0_H_3, mode=Mode.SUBTRACT)
        with Locations((2330.0355490623, 892.9336071014)):
            Rectangle(F0_W_2, F0_H_2)
        with Locations((2330.0355490623, 892.9336071014)):
            Rectangle(F0_W_3, F0_H_3, mode=Mode.SUBTRACT)
    extrude(amount=F5_DEPTH, both=True)


solid = Compound([f1_1.part, f3_1.part])
